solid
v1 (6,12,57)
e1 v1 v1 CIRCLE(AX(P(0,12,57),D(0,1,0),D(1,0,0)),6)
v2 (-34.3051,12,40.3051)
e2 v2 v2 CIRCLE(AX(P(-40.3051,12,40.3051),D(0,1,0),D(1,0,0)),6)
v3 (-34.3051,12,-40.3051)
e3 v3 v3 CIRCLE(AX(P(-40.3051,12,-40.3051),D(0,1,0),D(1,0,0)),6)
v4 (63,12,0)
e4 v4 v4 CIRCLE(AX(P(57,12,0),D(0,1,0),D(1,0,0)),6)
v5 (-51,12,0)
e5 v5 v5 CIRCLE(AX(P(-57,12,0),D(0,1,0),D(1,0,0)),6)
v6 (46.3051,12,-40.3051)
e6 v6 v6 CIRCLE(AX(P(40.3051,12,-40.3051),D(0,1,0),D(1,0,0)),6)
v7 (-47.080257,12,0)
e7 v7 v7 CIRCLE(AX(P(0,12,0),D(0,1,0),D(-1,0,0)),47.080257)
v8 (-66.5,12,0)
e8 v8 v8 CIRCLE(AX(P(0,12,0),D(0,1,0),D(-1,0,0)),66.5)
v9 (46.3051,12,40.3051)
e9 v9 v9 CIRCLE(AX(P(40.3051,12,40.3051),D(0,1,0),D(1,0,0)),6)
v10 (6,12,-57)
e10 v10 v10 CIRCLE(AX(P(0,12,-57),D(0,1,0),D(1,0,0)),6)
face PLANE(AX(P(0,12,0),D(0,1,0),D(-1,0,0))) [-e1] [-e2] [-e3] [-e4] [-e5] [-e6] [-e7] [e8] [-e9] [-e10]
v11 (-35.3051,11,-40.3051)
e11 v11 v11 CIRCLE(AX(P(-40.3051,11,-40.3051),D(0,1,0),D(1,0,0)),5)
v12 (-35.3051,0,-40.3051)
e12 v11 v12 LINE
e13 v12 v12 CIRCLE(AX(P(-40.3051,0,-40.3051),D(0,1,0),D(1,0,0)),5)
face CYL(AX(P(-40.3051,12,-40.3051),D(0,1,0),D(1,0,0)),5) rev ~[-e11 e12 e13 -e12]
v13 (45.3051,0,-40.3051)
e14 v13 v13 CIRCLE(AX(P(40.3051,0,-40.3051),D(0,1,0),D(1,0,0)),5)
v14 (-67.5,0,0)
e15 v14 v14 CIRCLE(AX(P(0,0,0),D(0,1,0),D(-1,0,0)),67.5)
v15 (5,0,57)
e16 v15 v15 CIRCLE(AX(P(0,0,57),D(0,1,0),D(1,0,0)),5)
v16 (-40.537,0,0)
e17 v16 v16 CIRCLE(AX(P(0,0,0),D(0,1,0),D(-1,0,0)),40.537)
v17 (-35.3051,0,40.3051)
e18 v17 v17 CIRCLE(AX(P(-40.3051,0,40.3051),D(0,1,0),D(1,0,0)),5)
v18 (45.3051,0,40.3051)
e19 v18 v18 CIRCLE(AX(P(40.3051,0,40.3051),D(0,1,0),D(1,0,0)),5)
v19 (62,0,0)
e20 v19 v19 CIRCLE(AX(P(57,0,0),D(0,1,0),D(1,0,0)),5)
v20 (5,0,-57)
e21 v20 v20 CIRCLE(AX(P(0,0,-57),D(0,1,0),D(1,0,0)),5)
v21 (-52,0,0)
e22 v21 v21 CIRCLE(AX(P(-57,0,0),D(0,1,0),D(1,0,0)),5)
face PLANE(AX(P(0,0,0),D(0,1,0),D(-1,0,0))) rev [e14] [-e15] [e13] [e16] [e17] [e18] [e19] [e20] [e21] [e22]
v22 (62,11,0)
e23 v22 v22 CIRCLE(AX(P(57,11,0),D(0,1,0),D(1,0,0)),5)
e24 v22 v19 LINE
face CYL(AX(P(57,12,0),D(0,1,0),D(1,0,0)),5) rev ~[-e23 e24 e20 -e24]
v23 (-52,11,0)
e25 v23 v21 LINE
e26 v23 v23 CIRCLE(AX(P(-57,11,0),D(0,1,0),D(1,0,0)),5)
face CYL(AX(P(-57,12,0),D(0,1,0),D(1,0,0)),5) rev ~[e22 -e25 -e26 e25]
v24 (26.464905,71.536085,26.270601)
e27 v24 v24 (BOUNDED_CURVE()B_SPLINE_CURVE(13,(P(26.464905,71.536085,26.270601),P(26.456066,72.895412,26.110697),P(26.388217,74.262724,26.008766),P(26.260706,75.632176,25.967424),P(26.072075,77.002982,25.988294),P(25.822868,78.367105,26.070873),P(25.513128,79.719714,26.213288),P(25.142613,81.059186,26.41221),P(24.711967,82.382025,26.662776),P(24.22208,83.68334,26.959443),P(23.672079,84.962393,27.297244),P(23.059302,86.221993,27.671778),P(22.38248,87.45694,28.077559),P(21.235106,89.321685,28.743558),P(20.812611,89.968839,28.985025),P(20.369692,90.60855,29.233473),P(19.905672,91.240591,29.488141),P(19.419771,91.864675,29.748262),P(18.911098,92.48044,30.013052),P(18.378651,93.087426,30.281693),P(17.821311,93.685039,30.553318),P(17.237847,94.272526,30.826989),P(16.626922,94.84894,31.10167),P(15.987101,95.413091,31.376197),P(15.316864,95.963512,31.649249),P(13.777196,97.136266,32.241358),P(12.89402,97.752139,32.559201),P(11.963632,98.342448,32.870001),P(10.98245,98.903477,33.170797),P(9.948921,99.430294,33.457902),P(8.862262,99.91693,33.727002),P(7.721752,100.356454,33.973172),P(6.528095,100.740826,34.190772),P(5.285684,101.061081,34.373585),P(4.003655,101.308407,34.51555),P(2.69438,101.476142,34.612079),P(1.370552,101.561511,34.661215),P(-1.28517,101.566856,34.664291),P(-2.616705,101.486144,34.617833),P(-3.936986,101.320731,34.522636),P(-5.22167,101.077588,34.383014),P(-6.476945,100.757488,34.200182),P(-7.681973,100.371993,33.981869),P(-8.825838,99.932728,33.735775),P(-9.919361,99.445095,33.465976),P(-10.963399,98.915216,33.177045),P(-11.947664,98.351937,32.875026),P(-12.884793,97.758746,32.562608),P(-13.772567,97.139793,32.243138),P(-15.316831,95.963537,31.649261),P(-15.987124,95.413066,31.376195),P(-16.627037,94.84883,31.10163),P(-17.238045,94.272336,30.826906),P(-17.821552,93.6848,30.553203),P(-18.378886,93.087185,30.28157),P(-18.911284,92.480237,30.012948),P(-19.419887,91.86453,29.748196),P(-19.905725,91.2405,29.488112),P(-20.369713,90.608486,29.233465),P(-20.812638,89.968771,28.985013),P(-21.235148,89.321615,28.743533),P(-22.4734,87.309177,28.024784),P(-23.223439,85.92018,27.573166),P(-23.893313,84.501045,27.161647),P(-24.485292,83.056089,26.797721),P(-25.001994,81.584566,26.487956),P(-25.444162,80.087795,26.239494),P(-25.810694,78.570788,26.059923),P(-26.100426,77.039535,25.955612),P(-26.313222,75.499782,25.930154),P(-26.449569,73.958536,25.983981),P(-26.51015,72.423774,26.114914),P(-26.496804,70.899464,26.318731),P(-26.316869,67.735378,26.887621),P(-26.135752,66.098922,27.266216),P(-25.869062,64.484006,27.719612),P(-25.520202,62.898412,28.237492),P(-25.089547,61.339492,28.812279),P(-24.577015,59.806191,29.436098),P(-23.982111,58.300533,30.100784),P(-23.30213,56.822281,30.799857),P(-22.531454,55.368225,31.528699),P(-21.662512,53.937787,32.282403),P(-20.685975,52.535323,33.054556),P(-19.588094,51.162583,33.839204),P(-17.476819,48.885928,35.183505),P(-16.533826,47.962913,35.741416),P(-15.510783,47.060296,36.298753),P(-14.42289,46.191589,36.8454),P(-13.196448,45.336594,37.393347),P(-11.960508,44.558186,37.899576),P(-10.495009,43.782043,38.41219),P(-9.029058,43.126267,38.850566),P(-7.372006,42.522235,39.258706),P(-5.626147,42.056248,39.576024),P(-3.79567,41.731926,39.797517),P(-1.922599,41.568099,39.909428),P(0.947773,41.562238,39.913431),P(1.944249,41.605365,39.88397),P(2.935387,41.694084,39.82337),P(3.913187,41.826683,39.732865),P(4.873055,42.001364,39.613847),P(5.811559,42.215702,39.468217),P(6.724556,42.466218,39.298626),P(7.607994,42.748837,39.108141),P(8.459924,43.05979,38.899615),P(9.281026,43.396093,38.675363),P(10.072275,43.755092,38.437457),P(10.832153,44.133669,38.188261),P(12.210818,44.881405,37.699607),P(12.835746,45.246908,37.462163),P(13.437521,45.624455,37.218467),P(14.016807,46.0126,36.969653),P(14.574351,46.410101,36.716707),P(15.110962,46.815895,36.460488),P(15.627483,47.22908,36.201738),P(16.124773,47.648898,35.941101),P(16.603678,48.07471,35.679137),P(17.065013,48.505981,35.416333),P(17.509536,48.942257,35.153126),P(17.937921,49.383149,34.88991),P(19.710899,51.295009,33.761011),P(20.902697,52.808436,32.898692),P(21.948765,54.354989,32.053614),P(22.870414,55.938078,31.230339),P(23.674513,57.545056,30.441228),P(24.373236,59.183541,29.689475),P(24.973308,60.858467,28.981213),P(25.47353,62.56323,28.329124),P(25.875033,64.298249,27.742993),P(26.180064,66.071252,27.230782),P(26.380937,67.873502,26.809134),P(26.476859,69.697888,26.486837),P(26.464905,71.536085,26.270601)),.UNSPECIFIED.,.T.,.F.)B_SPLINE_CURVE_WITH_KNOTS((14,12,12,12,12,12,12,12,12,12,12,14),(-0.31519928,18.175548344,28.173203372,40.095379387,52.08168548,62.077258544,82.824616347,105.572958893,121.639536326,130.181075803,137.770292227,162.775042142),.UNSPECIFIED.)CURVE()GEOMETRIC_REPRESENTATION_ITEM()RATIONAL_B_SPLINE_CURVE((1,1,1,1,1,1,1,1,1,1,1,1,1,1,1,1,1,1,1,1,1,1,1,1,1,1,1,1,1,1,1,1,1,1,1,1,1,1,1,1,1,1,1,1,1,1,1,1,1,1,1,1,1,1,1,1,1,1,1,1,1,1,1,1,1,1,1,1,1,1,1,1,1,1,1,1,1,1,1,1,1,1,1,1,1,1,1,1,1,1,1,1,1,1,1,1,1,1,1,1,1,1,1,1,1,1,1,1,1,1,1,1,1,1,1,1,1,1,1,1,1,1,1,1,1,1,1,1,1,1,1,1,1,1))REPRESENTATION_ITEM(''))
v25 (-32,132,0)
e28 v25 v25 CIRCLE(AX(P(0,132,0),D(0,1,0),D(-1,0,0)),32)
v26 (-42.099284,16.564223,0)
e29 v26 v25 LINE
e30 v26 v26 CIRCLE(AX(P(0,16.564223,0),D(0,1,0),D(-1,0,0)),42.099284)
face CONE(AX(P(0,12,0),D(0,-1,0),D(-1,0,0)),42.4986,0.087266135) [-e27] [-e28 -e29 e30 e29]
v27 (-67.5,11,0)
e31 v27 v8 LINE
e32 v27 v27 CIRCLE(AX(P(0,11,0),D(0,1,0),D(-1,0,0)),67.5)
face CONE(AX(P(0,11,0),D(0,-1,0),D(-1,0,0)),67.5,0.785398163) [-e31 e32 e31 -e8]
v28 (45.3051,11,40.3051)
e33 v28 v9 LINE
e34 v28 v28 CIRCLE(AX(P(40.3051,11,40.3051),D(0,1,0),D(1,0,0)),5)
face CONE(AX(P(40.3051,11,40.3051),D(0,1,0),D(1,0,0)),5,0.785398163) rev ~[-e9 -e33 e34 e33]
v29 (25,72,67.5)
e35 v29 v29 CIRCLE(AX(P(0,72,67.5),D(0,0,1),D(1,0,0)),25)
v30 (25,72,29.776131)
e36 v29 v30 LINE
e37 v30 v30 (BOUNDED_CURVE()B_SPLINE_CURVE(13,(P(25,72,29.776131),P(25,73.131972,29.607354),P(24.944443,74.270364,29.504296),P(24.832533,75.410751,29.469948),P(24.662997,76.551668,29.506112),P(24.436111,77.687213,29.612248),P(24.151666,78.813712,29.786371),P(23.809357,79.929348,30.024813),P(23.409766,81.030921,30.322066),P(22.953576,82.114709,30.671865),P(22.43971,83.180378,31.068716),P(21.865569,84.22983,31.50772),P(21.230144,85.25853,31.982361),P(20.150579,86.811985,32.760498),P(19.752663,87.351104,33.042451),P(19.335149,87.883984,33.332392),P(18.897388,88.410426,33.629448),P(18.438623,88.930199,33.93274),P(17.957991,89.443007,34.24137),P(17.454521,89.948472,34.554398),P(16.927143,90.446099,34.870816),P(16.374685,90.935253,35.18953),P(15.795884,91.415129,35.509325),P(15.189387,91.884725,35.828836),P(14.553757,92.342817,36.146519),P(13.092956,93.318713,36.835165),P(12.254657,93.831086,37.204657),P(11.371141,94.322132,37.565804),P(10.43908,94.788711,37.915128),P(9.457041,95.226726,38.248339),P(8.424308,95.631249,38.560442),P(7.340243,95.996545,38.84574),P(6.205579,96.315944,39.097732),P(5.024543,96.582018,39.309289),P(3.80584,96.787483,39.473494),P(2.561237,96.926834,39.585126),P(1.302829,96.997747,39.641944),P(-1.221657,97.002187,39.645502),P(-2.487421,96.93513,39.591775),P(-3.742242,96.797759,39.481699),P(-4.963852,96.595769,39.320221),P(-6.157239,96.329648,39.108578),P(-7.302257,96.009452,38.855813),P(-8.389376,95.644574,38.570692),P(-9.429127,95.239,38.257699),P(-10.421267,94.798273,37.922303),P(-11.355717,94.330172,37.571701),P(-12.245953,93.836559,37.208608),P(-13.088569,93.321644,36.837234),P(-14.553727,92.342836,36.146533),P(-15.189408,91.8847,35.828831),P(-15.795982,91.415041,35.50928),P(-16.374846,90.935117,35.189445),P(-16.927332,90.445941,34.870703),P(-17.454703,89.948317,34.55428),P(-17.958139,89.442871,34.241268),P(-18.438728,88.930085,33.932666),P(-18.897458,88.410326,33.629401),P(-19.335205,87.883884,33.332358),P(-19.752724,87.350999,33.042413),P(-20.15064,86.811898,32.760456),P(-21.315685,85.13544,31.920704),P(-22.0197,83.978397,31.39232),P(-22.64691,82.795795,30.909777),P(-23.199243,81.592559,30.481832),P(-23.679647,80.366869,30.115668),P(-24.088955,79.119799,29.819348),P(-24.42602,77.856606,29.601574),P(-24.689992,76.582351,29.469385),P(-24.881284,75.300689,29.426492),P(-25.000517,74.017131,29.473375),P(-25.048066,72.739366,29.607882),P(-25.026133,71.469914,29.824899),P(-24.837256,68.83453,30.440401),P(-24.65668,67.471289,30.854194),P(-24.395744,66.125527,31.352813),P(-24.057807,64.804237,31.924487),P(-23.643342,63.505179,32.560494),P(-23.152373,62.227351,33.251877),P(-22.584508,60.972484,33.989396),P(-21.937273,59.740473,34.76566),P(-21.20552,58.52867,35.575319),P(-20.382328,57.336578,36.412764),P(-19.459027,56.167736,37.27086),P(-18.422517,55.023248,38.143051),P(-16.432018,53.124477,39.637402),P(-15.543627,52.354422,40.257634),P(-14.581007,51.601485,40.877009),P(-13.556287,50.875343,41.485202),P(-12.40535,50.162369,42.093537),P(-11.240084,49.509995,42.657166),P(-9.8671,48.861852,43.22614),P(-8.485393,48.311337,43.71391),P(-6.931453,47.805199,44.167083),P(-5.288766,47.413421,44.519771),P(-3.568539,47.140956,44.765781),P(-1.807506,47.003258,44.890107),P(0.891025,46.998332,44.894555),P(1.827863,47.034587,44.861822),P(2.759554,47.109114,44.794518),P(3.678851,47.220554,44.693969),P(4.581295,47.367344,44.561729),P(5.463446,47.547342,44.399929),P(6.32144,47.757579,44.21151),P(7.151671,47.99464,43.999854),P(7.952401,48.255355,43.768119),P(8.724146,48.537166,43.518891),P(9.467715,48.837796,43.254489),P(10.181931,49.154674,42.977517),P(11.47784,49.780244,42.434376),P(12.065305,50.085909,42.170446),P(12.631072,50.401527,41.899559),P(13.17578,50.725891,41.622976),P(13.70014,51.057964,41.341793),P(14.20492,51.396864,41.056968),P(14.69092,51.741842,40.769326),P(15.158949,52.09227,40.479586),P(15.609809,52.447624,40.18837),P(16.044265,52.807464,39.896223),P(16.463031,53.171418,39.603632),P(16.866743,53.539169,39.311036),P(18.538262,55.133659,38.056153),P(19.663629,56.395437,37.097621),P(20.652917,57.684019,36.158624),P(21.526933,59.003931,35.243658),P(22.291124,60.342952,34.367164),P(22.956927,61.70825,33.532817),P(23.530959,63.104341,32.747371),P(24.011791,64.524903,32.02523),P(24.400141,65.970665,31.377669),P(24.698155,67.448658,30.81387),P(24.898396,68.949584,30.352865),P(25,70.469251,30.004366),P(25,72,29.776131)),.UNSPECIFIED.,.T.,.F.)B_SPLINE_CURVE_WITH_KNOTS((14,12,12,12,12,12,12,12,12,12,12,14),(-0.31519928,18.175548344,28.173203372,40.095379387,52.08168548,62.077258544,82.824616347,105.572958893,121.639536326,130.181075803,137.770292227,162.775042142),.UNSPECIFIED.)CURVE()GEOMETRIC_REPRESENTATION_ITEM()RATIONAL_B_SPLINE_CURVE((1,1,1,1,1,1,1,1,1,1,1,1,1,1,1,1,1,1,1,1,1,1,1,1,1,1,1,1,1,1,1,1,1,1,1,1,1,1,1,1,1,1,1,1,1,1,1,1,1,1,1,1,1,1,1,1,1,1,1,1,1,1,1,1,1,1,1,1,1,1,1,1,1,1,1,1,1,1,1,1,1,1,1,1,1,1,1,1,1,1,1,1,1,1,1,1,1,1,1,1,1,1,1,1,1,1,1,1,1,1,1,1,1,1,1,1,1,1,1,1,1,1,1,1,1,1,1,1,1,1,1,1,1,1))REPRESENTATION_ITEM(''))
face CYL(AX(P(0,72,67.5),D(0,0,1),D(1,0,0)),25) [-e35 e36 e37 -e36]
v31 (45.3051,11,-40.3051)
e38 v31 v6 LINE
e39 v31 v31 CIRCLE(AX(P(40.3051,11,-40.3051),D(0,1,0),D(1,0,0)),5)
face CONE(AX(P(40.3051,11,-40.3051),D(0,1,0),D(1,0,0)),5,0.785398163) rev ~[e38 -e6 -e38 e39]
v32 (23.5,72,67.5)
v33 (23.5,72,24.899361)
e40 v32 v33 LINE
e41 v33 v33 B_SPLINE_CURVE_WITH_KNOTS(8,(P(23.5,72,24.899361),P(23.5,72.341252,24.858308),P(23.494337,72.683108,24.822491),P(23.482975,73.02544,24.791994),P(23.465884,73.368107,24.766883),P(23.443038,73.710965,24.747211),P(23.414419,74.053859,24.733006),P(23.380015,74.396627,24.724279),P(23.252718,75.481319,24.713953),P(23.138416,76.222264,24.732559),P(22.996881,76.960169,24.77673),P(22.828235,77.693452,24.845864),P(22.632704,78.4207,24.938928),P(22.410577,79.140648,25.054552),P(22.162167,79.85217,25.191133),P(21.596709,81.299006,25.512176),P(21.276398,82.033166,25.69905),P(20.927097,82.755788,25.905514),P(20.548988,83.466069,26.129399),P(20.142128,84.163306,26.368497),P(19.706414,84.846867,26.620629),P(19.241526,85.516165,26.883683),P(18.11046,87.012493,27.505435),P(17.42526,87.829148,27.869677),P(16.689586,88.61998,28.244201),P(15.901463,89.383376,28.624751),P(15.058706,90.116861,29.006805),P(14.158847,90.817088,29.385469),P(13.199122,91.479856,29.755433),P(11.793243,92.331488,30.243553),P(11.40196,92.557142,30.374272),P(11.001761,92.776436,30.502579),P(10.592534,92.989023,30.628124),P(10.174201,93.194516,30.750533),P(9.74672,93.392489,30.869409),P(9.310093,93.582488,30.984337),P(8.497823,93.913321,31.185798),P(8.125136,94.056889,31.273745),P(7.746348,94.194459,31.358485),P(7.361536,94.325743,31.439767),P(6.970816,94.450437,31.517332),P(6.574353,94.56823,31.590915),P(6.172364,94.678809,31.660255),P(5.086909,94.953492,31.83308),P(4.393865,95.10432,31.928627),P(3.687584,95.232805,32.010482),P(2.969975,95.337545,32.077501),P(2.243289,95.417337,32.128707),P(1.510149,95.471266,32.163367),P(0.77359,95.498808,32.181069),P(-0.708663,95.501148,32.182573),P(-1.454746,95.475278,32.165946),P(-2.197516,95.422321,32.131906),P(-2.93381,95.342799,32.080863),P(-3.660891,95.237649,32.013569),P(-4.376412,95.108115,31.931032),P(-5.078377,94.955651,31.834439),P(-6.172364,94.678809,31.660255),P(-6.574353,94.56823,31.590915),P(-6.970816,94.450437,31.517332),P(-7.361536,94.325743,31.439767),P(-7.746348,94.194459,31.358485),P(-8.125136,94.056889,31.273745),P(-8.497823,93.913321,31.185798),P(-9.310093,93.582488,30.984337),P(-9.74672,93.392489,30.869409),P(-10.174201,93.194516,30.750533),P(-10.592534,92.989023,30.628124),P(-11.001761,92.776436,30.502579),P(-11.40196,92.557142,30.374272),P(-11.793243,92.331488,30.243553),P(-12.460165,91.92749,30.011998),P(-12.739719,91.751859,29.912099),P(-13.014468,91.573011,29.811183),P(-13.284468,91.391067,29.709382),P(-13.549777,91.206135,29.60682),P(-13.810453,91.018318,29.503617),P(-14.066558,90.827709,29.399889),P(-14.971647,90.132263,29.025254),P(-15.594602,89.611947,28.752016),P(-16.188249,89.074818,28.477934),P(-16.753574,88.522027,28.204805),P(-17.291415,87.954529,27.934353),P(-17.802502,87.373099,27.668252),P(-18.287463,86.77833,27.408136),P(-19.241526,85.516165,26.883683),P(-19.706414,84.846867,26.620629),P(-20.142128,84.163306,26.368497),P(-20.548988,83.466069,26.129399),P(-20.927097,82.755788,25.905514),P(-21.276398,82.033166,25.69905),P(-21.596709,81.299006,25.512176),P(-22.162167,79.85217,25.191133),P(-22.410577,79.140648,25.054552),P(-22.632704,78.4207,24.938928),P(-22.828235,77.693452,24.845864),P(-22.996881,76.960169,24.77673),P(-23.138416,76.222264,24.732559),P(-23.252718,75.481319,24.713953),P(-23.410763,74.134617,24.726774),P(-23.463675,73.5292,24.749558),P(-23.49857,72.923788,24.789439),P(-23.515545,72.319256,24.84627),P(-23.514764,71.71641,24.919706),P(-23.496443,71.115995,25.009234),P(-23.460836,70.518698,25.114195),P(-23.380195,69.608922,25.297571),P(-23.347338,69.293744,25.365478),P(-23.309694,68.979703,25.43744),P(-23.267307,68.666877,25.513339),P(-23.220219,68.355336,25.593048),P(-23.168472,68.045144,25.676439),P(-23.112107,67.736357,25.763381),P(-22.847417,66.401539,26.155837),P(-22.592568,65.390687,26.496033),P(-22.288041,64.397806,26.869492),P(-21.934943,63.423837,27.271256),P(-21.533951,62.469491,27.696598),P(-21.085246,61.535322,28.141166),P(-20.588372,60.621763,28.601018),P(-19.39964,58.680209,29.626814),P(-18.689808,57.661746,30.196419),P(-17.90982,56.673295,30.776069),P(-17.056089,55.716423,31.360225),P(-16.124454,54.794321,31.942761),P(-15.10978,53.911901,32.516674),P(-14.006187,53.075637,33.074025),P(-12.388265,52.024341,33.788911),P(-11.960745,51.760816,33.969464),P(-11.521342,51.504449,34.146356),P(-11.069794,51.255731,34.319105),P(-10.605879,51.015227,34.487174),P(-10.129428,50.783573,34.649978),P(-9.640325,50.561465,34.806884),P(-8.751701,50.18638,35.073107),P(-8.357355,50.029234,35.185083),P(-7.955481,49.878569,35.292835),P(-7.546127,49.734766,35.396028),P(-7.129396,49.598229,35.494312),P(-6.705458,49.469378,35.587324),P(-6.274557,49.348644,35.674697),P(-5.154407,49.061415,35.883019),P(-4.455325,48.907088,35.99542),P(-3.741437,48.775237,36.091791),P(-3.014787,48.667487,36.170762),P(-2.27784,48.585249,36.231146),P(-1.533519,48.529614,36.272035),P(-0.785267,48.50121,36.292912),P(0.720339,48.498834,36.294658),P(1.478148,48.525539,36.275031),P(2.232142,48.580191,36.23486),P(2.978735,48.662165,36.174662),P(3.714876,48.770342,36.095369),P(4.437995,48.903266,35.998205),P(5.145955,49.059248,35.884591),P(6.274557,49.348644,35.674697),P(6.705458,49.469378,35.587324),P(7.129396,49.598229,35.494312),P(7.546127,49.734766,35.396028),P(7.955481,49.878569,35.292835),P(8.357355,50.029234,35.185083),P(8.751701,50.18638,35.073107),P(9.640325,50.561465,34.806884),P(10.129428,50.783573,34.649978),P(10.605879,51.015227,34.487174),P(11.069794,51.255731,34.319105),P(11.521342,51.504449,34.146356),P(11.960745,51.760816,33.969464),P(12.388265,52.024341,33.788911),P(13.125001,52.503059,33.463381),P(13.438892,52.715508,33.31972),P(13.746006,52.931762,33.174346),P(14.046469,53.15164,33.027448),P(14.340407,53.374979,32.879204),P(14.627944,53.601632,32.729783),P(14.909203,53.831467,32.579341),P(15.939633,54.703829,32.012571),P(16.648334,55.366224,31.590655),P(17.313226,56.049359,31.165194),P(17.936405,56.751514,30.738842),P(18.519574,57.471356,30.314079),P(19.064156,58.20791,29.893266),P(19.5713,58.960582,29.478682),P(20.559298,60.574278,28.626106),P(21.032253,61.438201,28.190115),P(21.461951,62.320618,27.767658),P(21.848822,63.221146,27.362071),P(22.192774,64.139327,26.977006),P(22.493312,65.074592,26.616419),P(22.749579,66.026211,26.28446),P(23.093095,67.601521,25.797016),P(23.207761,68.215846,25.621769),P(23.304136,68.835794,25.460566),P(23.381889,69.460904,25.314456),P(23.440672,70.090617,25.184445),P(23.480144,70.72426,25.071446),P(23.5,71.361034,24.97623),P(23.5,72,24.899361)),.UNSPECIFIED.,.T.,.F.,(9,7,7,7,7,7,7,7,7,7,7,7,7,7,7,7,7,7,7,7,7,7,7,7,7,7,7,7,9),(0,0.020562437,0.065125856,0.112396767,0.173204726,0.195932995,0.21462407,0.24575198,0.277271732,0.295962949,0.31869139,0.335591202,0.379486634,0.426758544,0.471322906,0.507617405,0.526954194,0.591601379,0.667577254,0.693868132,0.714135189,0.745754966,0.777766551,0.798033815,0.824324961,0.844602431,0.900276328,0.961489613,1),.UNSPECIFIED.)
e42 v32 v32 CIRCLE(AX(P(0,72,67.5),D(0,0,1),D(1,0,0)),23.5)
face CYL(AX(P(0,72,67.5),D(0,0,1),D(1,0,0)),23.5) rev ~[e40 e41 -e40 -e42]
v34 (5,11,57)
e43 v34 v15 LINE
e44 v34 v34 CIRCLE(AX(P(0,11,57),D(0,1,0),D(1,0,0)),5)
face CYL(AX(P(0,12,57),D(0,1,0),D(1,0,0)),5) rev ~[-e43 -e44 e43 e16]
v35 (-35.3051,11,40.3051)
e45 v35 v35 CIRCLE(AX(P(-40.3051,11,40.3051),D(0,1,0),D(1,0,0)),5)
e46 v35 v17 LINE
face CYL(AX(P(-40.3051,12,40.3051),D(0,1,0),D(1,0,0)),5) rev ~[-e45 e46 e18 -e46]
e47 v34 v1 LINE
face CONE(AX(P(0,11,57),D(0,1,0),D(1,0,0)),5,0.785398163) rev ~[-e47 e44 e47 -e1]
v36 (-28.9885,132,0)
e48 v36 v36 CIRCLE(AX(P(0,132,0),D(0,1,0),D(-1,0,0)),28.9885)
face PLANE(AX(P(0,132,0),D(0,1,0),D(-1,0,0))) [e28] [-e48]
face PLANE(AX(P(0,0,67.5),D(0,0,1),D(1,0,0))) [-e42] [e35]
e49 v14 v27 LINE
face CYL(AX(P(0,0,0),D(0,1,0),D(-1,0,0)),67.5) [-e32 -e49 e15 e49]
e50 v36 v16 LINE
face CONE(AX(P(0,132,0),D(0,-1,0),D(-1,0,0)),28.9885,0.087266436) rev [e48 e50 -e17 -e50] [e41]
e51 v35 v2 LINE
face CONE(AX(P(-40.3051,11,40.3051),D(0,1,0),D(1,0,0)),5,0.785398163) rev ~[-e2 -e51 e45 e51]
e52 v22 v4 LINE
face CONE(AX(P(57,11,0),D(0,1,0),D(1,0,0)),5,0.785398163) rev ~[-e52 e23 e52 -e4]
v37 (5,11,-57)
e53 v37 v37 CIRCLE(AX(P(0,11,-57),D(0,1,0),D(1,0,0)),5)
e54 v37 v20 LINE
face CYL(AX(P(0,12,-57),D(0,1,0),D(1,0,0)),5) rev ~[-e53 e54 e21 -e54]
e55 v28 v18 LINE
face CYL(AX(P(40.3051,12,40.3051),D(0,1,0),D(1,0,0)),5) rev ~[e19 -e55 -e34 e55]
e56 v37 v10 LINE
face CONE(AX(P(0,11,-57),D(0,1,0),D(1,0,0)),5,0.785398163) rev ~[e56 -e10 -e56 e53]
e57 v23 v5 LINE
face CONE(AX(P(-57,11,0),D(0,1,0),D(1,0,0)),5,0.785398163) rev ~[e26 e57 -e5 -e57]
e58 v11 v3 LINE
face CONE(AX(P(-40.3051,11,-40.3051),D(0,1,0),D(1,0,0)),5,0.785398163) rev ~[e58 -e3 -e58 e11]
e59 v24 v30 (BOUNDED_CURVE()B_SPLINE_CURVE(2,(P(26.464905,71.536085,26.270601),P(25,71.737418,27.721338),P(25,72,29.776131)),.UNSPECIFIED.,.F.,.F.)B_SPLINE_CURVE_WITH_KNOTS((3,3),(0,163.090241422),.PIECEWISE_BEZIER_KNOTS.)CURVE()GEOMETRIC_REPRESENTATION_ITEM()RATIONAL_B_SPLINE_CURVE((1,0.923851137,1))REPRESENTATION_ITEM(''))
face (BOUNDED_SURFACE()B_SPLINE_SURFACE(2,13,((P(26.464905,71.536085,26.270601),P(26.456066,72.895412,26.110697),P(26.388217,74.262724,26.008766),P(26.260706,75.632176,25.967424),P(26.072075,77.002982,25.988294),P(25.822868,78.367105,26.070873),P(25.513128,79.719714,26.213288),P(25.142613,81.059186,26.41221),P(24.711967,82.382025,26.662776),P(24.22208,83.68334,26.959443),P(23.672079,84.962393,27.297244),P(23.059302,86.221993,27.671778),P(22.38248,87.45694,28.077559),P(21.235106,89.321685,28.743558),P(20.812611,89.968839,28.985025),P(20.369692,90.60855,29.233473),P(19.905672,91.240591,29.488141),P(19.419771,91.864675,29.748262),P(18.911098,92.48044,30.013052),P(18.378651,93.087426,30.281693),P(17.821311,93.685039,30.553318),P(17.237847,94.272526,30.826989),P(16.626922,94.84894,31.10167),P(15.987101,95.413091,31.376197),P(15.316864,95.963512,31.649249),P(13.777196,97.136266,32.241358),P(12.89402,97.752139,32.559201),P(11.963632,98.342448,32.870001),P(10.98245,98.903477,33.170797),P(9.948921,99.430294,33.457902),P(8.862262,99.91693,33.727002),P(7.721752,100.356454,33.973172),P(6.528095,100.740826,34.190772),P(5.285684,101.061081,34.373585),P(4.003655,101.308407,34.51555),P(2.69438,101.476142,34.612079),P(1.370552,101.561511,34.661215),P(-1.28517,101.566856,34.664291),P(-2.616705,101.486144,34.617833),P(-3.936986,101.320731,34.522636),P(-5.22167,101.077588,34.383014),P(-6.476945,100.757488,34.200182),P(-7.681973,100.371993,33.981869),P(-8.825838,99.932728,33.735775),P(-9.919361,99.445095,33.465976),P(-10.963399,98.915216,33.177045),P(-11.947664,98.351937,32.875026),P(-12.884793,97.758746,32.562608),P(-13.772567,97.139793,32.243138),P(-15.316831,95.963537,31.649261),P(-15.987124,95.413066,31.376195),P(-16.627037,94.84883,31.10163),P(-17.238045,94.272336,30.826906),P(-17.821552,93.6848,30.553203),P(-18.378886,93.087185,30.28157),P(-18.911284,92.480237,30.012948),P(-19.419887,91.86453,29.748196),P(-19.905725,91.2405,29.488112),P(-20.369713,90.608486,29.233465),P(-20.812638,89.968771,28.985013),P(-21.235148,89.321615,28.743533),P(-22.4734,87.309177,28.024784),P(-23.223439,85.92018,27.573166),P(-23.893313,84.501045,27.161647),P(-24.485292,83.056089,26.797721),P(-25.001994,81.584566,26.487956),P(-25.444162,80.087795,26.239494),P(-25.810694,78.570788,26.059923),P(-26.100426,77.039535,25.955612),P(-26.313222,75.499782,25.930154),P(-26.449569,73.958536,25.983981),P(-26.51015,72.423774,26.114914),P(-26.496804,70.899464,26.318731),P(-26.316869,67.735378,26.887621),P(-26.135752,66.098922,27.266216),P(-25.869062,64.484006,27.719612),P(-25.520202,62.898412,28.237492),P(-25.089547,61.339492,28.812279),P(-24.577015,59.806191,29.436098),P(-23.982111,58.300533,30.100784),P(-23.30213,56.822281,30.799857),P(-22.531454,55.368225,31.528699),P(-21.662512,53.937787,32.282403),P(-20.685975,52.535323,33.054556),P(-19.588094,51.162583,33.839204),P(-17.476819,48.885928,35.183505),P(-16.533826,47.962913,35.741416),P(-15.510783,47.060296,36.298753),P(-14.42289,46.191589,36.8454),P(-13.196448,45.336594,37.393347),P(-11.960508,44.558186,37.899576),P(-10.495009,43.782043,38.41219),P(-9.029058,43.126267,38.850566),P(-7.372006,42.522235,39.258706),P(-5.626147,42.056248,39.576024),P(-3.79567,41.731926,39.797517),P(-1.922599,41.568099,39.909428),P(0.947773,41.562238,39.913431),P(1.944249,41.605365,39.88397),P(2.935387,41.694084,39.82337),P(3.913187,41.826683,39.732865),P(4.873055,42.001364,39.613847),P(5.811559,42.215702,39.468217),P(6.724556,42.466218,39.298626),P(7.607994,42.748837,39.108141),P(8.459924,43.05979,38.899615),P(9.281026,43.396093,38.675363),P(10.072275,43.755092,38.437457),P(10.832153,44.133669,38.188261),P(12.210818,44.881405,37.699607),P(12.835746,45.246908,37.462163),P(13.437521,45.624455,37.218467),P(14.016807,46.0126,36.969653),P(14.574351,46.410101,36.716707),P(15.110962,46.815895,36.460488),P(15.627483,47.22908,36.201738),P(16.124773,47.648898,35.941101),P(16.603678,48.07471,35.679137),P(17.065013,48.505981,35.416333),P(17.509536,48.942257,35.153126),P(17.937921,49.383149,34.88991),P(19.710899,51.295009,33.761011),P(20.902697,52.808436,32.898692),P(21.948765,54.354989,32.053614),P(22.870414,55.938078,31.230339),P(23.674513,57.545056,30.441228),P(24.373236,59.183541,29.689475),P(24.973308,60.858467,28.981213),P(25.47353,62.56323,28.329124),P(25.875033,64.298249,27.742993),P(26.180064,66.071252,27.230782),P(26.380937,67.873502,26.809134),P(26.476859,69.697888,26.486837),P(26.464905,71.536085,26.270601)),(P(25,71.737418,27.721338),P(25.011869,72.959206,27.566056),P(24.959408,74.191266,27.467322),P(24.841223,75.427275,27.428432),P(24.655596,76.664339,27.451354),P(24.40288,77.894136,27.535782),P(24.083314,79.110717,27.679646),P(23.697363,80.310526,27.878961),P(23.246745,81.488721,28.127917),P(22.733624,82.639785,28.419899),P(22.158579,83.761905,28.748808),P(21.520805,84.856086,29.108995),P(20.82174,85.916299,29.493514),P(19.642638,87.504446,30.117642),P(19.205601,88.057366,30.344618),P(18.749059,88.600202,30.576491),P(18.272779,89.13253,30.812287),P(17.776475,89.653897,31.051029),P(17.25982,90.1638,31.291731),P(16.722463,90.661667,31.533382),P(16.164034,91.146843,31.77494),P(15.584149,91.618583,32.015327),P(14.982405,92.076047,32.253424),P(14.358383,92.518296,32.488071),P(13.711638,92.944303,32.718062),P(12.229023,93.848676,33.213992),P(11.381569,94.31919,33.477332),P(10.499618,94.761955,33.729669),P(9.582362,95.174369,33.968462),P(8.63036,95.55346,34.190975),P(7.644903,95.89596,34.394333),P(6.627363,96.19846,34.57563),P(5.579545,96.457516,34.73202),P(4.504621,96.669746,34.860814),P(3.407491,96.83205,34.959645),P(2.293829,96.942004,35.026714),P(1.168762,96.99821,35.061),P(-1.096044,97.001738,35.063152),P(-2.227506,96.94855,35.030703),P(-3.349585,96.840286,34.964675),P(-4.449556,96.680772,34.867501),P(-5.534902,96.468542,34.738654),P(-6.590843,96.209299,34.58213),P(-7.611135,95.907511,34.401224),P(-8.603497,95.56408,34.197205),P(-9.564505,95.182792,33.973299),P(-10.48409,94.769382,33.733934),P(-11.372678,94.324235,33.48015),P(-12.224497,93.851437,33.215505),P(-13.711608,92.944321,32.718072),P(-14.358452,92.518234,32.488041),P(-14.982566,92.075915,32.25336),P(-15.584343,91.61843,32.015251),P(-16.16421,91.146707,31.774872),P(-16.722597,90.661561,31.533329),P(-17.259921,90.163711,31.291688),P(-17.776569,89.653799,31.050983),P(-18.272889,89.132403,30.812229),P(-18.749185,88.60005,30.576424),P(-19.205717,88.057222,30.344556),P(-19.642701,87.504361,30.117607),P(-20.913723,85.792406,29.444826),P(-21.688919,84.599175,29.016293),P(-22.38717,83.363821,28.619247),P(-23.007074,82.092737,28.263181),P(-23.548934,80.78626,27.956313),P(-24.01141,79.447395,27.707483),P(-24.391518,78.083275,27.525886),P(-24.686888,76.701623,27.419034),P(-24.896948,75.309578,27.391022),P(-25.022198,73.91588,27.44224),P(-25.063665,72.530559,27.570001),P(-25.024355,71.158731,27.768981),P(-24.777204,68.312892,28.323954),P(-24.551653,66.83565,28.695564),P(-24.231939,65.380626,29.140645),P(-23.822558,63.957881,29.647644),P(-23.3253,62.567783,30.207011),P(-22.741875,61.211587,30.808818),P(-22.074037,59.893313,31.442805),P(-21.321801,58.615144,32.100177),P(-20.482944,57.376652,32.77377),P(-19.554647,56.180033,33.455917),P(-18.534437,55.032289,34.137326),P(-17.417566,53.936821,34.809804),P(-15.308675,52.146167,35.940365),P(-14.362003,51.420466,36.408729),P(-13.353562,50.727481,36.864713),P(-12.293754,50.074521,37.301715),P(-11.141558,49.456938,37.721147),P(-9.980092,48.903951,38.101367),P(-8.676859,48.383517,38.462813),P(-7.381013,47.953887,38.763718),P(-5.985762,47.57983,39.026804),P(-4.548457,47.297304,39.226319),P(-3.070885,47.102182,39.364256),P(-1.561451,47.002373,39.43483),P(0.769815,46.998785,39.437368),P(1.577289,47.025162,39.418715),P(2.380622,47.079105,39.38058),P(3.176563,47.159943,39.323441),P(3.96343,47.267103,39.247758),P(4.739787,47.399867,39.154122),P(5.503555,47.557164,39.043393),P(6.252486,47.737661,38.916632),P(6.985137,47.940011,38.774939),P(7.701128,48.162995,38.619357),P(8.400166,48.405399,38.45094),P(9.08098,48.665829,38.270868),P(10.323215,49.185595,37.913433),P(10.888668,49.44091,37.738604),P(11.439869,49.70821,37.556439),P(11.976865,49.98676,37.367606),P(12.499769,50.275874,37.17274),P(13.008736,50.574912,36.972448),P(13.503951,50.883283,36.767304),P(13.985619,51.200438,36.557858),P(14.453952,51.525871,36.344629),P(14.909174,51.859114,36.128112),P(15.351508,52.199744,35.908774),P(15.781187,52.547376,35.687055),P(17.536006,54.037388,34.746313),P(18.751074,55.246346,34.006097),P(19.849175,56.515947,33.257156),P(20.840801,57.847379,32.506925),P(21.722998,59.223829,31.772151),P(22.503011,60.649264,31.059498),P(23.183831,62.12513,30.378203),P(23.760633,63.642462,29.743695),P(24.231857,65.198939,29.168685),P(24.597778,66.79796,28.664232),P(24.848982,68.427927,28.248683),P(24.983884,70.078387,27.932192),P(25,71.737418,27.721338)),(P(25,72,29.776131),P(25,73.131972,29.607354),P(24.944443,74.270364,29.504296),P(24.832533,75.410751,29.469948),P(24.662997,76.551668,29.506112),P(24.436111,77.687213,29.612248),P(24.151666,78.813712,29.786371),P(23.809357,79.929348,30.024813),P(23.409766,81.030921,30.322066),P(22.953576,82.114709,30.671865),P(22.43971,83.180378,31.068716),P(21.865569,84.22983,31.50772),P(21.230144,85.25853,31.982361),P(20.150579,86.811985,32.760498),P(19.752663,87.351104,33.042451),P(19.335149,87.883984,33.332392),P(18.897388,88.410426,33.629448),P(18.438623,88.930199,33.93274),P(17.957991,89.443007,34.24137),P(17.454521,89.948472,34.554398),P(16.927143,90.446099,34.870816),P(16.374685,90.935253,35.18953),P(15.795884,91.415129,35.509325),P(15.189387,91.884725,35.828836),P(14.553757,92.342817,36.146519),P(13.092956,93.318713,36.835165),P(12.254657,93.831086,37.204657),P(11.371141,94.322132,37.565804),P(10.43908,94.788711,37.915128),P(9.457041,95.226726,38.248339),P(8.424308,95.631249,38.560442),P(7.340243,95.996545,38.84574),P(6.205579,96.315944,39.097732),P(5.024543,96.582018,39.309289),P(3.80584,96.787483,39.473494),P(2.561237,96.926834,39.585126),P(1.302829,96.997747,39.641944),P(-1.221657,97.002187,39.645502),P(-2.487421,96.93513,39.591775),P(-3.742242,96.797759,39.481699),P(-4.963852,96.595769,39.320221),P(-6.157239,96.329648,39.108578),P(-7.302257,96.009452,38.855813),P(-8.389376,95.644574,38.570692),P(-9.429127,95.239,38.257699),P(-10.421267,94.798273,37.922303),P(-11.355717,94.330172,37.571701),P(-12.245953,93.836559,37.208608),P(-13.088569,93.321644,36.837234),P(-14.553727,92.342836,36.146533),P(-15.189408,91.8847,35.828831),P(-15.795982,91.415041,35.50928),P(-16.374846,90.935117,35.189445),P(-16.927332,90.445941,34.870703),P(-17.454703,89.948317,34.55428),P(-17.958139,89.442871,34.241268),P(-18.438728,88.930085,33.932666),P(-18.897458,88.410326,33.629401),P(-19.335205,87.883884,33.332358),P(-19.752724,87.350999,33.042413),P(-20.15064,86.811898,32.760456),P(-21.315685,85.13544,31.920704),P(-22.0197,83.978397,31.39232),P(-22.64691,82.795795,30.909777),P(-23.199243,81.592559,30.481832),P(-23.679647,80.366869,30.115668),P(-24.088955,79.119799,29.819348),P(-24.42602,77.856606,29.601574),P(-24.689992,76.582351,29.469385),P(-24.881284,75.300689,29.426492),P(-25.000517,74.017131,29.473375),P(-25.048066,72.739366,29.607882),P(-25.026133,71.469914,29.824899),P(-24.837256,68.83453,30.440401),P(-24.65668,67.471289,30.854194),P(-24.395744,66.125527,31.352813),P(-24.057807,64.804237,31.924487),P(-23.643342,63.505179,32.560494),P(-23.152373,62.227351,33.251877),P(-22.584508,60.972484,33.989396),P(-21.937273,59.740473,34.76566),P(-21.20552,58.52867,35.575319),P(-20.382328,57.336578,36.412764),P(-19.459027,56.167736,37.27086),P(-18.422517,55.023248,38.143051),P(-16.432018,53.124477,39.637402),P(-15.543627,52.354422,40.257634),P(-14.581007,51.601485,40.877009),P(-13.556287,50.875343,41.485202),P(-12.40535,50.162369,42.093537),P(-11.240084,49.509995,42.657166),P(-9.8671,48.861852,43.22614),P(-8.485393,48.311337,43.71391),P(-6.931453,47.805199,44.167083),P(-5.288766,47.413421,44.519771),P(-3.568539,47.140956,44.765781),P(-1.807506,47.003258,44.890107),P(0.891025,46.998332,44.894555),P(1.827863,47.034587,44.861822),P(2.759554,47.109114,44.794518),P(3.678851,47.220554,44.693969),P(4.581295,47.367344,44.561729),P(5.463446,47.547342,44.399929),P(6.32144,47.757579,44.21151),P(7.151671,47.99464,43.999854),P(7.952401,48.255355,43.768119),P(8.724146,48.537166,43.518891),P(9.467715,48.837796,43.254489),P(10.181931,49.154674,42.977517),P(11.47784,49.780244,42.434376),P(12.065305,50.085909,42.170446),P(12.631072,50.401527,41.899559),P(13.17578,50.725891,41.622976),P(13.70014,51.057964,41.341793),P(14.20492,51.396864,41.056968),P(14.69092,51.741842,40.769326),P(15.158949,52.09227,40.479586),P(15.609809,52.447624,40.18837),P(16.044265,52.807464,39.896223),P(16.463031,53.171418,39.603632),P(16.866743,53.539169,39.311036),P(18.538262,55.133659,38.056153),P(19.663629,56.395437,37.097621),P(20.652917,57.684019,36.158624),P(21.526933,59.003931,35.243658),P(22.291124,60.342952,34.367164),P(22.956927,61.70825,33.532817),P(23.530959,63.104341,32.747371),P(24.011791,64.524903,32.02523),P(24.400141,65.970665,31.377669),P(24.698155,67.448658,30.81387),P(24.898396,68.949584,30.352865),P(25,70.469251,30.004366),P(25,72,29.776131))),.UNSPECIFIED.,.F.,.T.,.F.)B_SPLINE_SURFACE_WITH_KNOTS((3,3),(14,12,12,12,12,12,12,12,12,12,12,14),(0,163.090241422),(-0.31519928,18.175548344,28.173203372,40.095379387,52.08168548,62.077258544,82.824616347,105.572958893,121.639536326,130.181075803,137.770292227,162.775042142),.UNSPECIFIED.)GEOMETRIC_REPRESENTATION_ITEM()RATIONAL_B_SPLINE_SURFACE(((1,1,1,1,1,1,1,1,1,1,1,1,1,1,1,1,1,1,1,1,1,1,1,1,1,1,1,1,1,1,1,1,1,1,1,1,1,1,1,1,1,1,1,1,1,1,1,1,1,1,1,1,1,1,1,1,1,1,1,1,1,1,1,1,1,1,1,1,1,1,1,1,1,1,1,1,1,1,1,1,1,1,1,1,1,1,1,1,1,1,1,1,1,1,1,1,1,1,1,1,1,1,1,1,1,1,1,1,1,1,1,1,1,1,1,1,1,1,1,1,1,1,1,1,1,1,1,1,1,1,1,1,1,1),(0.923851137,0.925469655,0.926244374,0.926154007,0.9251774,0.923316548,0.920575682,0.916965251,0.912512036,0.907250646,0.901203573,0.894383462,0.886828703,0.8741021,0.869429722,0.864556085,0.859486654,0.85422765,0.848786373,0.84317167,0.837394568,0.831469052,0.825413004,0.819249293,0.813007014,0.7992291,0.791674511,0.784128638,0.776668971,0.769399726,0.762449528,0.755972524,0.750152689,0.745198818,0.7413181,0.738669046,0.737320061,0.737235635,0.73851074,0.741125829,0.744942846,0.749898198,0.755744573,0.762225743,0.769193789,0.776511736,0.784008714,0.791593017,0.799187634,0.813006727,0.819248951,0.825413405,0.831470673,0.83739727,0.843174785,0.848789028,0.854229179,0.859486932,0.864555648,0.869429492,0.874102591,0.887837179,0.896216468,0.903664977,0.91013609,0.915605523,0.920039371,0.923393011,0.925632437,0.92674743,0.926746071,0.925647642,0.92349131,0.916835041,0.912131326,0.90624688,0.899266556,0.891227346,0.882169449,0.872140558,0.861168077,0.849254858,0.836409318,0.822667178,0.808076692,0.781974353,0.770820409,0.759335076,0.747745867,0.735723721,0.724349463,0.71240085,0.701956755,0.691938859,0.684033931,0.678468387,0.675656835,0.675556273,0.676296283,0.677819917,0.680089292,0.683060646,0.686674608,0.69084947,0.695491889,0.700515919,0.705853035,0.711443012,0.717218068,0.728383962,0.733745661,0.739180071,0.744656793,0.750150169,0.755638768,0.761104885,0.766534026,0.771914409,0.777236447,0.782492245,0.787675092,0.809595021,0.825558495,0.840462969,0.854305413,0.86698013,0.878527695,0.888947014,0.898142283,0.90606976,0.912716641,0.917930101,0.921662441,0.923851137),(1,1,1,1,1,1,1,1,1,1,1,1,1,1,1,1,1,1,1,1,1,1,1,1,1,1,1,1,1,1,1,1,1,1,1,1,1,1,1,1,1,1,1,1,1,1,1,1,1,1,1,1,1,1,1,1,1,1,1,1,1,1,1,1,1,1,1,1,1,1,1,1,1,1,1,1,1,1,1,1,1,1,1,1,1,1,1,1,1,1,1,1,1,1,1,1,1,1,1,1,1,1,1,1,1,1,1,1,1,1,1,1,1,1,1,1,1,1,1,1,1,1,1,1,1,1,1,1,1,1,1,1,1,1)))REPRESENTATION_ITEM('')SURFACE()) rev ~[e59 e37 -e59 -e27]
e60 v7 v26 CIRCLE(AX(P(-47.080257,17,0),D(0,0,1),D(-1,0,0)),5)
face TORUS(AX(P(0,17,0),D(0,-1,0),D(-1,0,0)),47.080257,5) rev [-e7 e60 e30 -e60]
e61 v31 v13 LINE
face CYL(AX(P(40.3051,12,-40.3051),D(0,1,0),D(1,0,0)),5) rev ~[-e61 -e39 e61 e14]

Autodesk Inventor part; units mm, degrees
ref_plane "YZ Plane" through (0, 0, 0) normal (1, 0, 0) x (0, 1, 0)
ref_plane "XZ Plane" through (0, 0, 0) normal (0, 1, 0) x (-1, 0, 0)
sketch "Náčrt1" plane through (0, 0, 0) normal (0, 0, 1) x (1, 0, 0)
  line L0 (-40.537, 0) -> (-67.5, 0)
  line L1 (-67.5, 0) -> (-67.5, 12)
  line L2 (-67.5, 12) -> (-42.4986, 12)
  line L3 (-42.4986, 12) -> (-32, 132)
  line L4 (-32, 132) -> (-28.9885, 132)
  line L5 (-28.9885, 132) -> (-40.537, 0)
  line L6 (-81, 0) -> (13.5, 0) projected
  line L7 (0, -26.4) -> (0, 158.4) projected
  point P0 (0, 0)
  dimension "d0" = 12
  dimension "d1" = 132
  dimension "d2" = 32
  dimension "d4" = 3
  dimension "d5" = 67.5
  dimension "d6" = 5
  dimension "d7" = 0
revolve "Rotace1" add sketch "Náčrt1" angle 360 about axis through (0, -10, 0) along (0, 1, 0)
sketch "Náčrt2" plane through (0, 12, 0) normal (0, 1, 0) x (1, 0, 0)
  circle A0 centre (0, 0) radius 57 construction
  line L0 (0, 94.5) -> (0, -94.5) construction
  line L1 (-94.5, 0) -> (94.5, 0) construction
  circle A1 centre (0, 57) radius 5
  circle A2 centre (-40.3051, 40.3051) radius 5
  circle A3 centre (-57, 0) radius 5
  circle A4 centre (-40.3051, -40.3051) radius 5
  circle A5 centre (0, -57) radius 5
  circle A6 centre (40.3051, -40.3051) radius 5
  circle A7 centre (57, 0) radius 5
  circle A8 centre (40.3051, 40.3051) radius 5
  dimension "d9" = 114
  dimension "d11" = 10
  dimension "d14" = 360
extrude "Vysunutí1" cut sketch "Náčrt2" against normal through all
chamfer "Zkosení1" distance 1 angle 45 9 edges at (-62, 12, 0) (-45.3051, 12, 40.3051) (-5, 12, 57) (35.3051, 12, 40.3051) (52, 12, 0) (35.3051, 12, -40.3051) (-5, 12, -57) (-45.3051, 12, -40.3051) (67.5, 12, 0)
ref_plane "Pracovní rovina1" through (0, 0, 67.5) normal (0, 0, 1) x (1, 0, 0)
sketch "Náčrt3" plane through (0, 0, 67.5) normal (0, 0, 1) x (1, 0, 0)
  line L0 (0, -26.4) -> (0, 158.4) construction
  line L1 (-94.5, 0) -> (94.5, 0) construction
  circle A0 centre (0, 72) radius 25
  point P0 (0, 0)
  dimension "d22" = 50
  dimension "d23" = 72
extrude "Vysunutí2" add sketch "Náčrt3" against normal up to next
sketch "Náčrt4" plane through (0, 72, 67.5) normal (0, 0, 1) x (1, 0, 0)
  circle A0 centre (0, 0) radius 25 projected
  circle A1 centre (0, 0) radius 23.5
  point P0 (0, -72)
  dimension "d27" = 47
extrude "Vysunutí3" cut sketch "Náčrt4" against normal up to next contours A1
fillet "Zaoblení1" radius 5 2 edges at (-24.9752, 70.8872, 27.7671) (42.4986, 12, 0)
properties part number "Součást12"
